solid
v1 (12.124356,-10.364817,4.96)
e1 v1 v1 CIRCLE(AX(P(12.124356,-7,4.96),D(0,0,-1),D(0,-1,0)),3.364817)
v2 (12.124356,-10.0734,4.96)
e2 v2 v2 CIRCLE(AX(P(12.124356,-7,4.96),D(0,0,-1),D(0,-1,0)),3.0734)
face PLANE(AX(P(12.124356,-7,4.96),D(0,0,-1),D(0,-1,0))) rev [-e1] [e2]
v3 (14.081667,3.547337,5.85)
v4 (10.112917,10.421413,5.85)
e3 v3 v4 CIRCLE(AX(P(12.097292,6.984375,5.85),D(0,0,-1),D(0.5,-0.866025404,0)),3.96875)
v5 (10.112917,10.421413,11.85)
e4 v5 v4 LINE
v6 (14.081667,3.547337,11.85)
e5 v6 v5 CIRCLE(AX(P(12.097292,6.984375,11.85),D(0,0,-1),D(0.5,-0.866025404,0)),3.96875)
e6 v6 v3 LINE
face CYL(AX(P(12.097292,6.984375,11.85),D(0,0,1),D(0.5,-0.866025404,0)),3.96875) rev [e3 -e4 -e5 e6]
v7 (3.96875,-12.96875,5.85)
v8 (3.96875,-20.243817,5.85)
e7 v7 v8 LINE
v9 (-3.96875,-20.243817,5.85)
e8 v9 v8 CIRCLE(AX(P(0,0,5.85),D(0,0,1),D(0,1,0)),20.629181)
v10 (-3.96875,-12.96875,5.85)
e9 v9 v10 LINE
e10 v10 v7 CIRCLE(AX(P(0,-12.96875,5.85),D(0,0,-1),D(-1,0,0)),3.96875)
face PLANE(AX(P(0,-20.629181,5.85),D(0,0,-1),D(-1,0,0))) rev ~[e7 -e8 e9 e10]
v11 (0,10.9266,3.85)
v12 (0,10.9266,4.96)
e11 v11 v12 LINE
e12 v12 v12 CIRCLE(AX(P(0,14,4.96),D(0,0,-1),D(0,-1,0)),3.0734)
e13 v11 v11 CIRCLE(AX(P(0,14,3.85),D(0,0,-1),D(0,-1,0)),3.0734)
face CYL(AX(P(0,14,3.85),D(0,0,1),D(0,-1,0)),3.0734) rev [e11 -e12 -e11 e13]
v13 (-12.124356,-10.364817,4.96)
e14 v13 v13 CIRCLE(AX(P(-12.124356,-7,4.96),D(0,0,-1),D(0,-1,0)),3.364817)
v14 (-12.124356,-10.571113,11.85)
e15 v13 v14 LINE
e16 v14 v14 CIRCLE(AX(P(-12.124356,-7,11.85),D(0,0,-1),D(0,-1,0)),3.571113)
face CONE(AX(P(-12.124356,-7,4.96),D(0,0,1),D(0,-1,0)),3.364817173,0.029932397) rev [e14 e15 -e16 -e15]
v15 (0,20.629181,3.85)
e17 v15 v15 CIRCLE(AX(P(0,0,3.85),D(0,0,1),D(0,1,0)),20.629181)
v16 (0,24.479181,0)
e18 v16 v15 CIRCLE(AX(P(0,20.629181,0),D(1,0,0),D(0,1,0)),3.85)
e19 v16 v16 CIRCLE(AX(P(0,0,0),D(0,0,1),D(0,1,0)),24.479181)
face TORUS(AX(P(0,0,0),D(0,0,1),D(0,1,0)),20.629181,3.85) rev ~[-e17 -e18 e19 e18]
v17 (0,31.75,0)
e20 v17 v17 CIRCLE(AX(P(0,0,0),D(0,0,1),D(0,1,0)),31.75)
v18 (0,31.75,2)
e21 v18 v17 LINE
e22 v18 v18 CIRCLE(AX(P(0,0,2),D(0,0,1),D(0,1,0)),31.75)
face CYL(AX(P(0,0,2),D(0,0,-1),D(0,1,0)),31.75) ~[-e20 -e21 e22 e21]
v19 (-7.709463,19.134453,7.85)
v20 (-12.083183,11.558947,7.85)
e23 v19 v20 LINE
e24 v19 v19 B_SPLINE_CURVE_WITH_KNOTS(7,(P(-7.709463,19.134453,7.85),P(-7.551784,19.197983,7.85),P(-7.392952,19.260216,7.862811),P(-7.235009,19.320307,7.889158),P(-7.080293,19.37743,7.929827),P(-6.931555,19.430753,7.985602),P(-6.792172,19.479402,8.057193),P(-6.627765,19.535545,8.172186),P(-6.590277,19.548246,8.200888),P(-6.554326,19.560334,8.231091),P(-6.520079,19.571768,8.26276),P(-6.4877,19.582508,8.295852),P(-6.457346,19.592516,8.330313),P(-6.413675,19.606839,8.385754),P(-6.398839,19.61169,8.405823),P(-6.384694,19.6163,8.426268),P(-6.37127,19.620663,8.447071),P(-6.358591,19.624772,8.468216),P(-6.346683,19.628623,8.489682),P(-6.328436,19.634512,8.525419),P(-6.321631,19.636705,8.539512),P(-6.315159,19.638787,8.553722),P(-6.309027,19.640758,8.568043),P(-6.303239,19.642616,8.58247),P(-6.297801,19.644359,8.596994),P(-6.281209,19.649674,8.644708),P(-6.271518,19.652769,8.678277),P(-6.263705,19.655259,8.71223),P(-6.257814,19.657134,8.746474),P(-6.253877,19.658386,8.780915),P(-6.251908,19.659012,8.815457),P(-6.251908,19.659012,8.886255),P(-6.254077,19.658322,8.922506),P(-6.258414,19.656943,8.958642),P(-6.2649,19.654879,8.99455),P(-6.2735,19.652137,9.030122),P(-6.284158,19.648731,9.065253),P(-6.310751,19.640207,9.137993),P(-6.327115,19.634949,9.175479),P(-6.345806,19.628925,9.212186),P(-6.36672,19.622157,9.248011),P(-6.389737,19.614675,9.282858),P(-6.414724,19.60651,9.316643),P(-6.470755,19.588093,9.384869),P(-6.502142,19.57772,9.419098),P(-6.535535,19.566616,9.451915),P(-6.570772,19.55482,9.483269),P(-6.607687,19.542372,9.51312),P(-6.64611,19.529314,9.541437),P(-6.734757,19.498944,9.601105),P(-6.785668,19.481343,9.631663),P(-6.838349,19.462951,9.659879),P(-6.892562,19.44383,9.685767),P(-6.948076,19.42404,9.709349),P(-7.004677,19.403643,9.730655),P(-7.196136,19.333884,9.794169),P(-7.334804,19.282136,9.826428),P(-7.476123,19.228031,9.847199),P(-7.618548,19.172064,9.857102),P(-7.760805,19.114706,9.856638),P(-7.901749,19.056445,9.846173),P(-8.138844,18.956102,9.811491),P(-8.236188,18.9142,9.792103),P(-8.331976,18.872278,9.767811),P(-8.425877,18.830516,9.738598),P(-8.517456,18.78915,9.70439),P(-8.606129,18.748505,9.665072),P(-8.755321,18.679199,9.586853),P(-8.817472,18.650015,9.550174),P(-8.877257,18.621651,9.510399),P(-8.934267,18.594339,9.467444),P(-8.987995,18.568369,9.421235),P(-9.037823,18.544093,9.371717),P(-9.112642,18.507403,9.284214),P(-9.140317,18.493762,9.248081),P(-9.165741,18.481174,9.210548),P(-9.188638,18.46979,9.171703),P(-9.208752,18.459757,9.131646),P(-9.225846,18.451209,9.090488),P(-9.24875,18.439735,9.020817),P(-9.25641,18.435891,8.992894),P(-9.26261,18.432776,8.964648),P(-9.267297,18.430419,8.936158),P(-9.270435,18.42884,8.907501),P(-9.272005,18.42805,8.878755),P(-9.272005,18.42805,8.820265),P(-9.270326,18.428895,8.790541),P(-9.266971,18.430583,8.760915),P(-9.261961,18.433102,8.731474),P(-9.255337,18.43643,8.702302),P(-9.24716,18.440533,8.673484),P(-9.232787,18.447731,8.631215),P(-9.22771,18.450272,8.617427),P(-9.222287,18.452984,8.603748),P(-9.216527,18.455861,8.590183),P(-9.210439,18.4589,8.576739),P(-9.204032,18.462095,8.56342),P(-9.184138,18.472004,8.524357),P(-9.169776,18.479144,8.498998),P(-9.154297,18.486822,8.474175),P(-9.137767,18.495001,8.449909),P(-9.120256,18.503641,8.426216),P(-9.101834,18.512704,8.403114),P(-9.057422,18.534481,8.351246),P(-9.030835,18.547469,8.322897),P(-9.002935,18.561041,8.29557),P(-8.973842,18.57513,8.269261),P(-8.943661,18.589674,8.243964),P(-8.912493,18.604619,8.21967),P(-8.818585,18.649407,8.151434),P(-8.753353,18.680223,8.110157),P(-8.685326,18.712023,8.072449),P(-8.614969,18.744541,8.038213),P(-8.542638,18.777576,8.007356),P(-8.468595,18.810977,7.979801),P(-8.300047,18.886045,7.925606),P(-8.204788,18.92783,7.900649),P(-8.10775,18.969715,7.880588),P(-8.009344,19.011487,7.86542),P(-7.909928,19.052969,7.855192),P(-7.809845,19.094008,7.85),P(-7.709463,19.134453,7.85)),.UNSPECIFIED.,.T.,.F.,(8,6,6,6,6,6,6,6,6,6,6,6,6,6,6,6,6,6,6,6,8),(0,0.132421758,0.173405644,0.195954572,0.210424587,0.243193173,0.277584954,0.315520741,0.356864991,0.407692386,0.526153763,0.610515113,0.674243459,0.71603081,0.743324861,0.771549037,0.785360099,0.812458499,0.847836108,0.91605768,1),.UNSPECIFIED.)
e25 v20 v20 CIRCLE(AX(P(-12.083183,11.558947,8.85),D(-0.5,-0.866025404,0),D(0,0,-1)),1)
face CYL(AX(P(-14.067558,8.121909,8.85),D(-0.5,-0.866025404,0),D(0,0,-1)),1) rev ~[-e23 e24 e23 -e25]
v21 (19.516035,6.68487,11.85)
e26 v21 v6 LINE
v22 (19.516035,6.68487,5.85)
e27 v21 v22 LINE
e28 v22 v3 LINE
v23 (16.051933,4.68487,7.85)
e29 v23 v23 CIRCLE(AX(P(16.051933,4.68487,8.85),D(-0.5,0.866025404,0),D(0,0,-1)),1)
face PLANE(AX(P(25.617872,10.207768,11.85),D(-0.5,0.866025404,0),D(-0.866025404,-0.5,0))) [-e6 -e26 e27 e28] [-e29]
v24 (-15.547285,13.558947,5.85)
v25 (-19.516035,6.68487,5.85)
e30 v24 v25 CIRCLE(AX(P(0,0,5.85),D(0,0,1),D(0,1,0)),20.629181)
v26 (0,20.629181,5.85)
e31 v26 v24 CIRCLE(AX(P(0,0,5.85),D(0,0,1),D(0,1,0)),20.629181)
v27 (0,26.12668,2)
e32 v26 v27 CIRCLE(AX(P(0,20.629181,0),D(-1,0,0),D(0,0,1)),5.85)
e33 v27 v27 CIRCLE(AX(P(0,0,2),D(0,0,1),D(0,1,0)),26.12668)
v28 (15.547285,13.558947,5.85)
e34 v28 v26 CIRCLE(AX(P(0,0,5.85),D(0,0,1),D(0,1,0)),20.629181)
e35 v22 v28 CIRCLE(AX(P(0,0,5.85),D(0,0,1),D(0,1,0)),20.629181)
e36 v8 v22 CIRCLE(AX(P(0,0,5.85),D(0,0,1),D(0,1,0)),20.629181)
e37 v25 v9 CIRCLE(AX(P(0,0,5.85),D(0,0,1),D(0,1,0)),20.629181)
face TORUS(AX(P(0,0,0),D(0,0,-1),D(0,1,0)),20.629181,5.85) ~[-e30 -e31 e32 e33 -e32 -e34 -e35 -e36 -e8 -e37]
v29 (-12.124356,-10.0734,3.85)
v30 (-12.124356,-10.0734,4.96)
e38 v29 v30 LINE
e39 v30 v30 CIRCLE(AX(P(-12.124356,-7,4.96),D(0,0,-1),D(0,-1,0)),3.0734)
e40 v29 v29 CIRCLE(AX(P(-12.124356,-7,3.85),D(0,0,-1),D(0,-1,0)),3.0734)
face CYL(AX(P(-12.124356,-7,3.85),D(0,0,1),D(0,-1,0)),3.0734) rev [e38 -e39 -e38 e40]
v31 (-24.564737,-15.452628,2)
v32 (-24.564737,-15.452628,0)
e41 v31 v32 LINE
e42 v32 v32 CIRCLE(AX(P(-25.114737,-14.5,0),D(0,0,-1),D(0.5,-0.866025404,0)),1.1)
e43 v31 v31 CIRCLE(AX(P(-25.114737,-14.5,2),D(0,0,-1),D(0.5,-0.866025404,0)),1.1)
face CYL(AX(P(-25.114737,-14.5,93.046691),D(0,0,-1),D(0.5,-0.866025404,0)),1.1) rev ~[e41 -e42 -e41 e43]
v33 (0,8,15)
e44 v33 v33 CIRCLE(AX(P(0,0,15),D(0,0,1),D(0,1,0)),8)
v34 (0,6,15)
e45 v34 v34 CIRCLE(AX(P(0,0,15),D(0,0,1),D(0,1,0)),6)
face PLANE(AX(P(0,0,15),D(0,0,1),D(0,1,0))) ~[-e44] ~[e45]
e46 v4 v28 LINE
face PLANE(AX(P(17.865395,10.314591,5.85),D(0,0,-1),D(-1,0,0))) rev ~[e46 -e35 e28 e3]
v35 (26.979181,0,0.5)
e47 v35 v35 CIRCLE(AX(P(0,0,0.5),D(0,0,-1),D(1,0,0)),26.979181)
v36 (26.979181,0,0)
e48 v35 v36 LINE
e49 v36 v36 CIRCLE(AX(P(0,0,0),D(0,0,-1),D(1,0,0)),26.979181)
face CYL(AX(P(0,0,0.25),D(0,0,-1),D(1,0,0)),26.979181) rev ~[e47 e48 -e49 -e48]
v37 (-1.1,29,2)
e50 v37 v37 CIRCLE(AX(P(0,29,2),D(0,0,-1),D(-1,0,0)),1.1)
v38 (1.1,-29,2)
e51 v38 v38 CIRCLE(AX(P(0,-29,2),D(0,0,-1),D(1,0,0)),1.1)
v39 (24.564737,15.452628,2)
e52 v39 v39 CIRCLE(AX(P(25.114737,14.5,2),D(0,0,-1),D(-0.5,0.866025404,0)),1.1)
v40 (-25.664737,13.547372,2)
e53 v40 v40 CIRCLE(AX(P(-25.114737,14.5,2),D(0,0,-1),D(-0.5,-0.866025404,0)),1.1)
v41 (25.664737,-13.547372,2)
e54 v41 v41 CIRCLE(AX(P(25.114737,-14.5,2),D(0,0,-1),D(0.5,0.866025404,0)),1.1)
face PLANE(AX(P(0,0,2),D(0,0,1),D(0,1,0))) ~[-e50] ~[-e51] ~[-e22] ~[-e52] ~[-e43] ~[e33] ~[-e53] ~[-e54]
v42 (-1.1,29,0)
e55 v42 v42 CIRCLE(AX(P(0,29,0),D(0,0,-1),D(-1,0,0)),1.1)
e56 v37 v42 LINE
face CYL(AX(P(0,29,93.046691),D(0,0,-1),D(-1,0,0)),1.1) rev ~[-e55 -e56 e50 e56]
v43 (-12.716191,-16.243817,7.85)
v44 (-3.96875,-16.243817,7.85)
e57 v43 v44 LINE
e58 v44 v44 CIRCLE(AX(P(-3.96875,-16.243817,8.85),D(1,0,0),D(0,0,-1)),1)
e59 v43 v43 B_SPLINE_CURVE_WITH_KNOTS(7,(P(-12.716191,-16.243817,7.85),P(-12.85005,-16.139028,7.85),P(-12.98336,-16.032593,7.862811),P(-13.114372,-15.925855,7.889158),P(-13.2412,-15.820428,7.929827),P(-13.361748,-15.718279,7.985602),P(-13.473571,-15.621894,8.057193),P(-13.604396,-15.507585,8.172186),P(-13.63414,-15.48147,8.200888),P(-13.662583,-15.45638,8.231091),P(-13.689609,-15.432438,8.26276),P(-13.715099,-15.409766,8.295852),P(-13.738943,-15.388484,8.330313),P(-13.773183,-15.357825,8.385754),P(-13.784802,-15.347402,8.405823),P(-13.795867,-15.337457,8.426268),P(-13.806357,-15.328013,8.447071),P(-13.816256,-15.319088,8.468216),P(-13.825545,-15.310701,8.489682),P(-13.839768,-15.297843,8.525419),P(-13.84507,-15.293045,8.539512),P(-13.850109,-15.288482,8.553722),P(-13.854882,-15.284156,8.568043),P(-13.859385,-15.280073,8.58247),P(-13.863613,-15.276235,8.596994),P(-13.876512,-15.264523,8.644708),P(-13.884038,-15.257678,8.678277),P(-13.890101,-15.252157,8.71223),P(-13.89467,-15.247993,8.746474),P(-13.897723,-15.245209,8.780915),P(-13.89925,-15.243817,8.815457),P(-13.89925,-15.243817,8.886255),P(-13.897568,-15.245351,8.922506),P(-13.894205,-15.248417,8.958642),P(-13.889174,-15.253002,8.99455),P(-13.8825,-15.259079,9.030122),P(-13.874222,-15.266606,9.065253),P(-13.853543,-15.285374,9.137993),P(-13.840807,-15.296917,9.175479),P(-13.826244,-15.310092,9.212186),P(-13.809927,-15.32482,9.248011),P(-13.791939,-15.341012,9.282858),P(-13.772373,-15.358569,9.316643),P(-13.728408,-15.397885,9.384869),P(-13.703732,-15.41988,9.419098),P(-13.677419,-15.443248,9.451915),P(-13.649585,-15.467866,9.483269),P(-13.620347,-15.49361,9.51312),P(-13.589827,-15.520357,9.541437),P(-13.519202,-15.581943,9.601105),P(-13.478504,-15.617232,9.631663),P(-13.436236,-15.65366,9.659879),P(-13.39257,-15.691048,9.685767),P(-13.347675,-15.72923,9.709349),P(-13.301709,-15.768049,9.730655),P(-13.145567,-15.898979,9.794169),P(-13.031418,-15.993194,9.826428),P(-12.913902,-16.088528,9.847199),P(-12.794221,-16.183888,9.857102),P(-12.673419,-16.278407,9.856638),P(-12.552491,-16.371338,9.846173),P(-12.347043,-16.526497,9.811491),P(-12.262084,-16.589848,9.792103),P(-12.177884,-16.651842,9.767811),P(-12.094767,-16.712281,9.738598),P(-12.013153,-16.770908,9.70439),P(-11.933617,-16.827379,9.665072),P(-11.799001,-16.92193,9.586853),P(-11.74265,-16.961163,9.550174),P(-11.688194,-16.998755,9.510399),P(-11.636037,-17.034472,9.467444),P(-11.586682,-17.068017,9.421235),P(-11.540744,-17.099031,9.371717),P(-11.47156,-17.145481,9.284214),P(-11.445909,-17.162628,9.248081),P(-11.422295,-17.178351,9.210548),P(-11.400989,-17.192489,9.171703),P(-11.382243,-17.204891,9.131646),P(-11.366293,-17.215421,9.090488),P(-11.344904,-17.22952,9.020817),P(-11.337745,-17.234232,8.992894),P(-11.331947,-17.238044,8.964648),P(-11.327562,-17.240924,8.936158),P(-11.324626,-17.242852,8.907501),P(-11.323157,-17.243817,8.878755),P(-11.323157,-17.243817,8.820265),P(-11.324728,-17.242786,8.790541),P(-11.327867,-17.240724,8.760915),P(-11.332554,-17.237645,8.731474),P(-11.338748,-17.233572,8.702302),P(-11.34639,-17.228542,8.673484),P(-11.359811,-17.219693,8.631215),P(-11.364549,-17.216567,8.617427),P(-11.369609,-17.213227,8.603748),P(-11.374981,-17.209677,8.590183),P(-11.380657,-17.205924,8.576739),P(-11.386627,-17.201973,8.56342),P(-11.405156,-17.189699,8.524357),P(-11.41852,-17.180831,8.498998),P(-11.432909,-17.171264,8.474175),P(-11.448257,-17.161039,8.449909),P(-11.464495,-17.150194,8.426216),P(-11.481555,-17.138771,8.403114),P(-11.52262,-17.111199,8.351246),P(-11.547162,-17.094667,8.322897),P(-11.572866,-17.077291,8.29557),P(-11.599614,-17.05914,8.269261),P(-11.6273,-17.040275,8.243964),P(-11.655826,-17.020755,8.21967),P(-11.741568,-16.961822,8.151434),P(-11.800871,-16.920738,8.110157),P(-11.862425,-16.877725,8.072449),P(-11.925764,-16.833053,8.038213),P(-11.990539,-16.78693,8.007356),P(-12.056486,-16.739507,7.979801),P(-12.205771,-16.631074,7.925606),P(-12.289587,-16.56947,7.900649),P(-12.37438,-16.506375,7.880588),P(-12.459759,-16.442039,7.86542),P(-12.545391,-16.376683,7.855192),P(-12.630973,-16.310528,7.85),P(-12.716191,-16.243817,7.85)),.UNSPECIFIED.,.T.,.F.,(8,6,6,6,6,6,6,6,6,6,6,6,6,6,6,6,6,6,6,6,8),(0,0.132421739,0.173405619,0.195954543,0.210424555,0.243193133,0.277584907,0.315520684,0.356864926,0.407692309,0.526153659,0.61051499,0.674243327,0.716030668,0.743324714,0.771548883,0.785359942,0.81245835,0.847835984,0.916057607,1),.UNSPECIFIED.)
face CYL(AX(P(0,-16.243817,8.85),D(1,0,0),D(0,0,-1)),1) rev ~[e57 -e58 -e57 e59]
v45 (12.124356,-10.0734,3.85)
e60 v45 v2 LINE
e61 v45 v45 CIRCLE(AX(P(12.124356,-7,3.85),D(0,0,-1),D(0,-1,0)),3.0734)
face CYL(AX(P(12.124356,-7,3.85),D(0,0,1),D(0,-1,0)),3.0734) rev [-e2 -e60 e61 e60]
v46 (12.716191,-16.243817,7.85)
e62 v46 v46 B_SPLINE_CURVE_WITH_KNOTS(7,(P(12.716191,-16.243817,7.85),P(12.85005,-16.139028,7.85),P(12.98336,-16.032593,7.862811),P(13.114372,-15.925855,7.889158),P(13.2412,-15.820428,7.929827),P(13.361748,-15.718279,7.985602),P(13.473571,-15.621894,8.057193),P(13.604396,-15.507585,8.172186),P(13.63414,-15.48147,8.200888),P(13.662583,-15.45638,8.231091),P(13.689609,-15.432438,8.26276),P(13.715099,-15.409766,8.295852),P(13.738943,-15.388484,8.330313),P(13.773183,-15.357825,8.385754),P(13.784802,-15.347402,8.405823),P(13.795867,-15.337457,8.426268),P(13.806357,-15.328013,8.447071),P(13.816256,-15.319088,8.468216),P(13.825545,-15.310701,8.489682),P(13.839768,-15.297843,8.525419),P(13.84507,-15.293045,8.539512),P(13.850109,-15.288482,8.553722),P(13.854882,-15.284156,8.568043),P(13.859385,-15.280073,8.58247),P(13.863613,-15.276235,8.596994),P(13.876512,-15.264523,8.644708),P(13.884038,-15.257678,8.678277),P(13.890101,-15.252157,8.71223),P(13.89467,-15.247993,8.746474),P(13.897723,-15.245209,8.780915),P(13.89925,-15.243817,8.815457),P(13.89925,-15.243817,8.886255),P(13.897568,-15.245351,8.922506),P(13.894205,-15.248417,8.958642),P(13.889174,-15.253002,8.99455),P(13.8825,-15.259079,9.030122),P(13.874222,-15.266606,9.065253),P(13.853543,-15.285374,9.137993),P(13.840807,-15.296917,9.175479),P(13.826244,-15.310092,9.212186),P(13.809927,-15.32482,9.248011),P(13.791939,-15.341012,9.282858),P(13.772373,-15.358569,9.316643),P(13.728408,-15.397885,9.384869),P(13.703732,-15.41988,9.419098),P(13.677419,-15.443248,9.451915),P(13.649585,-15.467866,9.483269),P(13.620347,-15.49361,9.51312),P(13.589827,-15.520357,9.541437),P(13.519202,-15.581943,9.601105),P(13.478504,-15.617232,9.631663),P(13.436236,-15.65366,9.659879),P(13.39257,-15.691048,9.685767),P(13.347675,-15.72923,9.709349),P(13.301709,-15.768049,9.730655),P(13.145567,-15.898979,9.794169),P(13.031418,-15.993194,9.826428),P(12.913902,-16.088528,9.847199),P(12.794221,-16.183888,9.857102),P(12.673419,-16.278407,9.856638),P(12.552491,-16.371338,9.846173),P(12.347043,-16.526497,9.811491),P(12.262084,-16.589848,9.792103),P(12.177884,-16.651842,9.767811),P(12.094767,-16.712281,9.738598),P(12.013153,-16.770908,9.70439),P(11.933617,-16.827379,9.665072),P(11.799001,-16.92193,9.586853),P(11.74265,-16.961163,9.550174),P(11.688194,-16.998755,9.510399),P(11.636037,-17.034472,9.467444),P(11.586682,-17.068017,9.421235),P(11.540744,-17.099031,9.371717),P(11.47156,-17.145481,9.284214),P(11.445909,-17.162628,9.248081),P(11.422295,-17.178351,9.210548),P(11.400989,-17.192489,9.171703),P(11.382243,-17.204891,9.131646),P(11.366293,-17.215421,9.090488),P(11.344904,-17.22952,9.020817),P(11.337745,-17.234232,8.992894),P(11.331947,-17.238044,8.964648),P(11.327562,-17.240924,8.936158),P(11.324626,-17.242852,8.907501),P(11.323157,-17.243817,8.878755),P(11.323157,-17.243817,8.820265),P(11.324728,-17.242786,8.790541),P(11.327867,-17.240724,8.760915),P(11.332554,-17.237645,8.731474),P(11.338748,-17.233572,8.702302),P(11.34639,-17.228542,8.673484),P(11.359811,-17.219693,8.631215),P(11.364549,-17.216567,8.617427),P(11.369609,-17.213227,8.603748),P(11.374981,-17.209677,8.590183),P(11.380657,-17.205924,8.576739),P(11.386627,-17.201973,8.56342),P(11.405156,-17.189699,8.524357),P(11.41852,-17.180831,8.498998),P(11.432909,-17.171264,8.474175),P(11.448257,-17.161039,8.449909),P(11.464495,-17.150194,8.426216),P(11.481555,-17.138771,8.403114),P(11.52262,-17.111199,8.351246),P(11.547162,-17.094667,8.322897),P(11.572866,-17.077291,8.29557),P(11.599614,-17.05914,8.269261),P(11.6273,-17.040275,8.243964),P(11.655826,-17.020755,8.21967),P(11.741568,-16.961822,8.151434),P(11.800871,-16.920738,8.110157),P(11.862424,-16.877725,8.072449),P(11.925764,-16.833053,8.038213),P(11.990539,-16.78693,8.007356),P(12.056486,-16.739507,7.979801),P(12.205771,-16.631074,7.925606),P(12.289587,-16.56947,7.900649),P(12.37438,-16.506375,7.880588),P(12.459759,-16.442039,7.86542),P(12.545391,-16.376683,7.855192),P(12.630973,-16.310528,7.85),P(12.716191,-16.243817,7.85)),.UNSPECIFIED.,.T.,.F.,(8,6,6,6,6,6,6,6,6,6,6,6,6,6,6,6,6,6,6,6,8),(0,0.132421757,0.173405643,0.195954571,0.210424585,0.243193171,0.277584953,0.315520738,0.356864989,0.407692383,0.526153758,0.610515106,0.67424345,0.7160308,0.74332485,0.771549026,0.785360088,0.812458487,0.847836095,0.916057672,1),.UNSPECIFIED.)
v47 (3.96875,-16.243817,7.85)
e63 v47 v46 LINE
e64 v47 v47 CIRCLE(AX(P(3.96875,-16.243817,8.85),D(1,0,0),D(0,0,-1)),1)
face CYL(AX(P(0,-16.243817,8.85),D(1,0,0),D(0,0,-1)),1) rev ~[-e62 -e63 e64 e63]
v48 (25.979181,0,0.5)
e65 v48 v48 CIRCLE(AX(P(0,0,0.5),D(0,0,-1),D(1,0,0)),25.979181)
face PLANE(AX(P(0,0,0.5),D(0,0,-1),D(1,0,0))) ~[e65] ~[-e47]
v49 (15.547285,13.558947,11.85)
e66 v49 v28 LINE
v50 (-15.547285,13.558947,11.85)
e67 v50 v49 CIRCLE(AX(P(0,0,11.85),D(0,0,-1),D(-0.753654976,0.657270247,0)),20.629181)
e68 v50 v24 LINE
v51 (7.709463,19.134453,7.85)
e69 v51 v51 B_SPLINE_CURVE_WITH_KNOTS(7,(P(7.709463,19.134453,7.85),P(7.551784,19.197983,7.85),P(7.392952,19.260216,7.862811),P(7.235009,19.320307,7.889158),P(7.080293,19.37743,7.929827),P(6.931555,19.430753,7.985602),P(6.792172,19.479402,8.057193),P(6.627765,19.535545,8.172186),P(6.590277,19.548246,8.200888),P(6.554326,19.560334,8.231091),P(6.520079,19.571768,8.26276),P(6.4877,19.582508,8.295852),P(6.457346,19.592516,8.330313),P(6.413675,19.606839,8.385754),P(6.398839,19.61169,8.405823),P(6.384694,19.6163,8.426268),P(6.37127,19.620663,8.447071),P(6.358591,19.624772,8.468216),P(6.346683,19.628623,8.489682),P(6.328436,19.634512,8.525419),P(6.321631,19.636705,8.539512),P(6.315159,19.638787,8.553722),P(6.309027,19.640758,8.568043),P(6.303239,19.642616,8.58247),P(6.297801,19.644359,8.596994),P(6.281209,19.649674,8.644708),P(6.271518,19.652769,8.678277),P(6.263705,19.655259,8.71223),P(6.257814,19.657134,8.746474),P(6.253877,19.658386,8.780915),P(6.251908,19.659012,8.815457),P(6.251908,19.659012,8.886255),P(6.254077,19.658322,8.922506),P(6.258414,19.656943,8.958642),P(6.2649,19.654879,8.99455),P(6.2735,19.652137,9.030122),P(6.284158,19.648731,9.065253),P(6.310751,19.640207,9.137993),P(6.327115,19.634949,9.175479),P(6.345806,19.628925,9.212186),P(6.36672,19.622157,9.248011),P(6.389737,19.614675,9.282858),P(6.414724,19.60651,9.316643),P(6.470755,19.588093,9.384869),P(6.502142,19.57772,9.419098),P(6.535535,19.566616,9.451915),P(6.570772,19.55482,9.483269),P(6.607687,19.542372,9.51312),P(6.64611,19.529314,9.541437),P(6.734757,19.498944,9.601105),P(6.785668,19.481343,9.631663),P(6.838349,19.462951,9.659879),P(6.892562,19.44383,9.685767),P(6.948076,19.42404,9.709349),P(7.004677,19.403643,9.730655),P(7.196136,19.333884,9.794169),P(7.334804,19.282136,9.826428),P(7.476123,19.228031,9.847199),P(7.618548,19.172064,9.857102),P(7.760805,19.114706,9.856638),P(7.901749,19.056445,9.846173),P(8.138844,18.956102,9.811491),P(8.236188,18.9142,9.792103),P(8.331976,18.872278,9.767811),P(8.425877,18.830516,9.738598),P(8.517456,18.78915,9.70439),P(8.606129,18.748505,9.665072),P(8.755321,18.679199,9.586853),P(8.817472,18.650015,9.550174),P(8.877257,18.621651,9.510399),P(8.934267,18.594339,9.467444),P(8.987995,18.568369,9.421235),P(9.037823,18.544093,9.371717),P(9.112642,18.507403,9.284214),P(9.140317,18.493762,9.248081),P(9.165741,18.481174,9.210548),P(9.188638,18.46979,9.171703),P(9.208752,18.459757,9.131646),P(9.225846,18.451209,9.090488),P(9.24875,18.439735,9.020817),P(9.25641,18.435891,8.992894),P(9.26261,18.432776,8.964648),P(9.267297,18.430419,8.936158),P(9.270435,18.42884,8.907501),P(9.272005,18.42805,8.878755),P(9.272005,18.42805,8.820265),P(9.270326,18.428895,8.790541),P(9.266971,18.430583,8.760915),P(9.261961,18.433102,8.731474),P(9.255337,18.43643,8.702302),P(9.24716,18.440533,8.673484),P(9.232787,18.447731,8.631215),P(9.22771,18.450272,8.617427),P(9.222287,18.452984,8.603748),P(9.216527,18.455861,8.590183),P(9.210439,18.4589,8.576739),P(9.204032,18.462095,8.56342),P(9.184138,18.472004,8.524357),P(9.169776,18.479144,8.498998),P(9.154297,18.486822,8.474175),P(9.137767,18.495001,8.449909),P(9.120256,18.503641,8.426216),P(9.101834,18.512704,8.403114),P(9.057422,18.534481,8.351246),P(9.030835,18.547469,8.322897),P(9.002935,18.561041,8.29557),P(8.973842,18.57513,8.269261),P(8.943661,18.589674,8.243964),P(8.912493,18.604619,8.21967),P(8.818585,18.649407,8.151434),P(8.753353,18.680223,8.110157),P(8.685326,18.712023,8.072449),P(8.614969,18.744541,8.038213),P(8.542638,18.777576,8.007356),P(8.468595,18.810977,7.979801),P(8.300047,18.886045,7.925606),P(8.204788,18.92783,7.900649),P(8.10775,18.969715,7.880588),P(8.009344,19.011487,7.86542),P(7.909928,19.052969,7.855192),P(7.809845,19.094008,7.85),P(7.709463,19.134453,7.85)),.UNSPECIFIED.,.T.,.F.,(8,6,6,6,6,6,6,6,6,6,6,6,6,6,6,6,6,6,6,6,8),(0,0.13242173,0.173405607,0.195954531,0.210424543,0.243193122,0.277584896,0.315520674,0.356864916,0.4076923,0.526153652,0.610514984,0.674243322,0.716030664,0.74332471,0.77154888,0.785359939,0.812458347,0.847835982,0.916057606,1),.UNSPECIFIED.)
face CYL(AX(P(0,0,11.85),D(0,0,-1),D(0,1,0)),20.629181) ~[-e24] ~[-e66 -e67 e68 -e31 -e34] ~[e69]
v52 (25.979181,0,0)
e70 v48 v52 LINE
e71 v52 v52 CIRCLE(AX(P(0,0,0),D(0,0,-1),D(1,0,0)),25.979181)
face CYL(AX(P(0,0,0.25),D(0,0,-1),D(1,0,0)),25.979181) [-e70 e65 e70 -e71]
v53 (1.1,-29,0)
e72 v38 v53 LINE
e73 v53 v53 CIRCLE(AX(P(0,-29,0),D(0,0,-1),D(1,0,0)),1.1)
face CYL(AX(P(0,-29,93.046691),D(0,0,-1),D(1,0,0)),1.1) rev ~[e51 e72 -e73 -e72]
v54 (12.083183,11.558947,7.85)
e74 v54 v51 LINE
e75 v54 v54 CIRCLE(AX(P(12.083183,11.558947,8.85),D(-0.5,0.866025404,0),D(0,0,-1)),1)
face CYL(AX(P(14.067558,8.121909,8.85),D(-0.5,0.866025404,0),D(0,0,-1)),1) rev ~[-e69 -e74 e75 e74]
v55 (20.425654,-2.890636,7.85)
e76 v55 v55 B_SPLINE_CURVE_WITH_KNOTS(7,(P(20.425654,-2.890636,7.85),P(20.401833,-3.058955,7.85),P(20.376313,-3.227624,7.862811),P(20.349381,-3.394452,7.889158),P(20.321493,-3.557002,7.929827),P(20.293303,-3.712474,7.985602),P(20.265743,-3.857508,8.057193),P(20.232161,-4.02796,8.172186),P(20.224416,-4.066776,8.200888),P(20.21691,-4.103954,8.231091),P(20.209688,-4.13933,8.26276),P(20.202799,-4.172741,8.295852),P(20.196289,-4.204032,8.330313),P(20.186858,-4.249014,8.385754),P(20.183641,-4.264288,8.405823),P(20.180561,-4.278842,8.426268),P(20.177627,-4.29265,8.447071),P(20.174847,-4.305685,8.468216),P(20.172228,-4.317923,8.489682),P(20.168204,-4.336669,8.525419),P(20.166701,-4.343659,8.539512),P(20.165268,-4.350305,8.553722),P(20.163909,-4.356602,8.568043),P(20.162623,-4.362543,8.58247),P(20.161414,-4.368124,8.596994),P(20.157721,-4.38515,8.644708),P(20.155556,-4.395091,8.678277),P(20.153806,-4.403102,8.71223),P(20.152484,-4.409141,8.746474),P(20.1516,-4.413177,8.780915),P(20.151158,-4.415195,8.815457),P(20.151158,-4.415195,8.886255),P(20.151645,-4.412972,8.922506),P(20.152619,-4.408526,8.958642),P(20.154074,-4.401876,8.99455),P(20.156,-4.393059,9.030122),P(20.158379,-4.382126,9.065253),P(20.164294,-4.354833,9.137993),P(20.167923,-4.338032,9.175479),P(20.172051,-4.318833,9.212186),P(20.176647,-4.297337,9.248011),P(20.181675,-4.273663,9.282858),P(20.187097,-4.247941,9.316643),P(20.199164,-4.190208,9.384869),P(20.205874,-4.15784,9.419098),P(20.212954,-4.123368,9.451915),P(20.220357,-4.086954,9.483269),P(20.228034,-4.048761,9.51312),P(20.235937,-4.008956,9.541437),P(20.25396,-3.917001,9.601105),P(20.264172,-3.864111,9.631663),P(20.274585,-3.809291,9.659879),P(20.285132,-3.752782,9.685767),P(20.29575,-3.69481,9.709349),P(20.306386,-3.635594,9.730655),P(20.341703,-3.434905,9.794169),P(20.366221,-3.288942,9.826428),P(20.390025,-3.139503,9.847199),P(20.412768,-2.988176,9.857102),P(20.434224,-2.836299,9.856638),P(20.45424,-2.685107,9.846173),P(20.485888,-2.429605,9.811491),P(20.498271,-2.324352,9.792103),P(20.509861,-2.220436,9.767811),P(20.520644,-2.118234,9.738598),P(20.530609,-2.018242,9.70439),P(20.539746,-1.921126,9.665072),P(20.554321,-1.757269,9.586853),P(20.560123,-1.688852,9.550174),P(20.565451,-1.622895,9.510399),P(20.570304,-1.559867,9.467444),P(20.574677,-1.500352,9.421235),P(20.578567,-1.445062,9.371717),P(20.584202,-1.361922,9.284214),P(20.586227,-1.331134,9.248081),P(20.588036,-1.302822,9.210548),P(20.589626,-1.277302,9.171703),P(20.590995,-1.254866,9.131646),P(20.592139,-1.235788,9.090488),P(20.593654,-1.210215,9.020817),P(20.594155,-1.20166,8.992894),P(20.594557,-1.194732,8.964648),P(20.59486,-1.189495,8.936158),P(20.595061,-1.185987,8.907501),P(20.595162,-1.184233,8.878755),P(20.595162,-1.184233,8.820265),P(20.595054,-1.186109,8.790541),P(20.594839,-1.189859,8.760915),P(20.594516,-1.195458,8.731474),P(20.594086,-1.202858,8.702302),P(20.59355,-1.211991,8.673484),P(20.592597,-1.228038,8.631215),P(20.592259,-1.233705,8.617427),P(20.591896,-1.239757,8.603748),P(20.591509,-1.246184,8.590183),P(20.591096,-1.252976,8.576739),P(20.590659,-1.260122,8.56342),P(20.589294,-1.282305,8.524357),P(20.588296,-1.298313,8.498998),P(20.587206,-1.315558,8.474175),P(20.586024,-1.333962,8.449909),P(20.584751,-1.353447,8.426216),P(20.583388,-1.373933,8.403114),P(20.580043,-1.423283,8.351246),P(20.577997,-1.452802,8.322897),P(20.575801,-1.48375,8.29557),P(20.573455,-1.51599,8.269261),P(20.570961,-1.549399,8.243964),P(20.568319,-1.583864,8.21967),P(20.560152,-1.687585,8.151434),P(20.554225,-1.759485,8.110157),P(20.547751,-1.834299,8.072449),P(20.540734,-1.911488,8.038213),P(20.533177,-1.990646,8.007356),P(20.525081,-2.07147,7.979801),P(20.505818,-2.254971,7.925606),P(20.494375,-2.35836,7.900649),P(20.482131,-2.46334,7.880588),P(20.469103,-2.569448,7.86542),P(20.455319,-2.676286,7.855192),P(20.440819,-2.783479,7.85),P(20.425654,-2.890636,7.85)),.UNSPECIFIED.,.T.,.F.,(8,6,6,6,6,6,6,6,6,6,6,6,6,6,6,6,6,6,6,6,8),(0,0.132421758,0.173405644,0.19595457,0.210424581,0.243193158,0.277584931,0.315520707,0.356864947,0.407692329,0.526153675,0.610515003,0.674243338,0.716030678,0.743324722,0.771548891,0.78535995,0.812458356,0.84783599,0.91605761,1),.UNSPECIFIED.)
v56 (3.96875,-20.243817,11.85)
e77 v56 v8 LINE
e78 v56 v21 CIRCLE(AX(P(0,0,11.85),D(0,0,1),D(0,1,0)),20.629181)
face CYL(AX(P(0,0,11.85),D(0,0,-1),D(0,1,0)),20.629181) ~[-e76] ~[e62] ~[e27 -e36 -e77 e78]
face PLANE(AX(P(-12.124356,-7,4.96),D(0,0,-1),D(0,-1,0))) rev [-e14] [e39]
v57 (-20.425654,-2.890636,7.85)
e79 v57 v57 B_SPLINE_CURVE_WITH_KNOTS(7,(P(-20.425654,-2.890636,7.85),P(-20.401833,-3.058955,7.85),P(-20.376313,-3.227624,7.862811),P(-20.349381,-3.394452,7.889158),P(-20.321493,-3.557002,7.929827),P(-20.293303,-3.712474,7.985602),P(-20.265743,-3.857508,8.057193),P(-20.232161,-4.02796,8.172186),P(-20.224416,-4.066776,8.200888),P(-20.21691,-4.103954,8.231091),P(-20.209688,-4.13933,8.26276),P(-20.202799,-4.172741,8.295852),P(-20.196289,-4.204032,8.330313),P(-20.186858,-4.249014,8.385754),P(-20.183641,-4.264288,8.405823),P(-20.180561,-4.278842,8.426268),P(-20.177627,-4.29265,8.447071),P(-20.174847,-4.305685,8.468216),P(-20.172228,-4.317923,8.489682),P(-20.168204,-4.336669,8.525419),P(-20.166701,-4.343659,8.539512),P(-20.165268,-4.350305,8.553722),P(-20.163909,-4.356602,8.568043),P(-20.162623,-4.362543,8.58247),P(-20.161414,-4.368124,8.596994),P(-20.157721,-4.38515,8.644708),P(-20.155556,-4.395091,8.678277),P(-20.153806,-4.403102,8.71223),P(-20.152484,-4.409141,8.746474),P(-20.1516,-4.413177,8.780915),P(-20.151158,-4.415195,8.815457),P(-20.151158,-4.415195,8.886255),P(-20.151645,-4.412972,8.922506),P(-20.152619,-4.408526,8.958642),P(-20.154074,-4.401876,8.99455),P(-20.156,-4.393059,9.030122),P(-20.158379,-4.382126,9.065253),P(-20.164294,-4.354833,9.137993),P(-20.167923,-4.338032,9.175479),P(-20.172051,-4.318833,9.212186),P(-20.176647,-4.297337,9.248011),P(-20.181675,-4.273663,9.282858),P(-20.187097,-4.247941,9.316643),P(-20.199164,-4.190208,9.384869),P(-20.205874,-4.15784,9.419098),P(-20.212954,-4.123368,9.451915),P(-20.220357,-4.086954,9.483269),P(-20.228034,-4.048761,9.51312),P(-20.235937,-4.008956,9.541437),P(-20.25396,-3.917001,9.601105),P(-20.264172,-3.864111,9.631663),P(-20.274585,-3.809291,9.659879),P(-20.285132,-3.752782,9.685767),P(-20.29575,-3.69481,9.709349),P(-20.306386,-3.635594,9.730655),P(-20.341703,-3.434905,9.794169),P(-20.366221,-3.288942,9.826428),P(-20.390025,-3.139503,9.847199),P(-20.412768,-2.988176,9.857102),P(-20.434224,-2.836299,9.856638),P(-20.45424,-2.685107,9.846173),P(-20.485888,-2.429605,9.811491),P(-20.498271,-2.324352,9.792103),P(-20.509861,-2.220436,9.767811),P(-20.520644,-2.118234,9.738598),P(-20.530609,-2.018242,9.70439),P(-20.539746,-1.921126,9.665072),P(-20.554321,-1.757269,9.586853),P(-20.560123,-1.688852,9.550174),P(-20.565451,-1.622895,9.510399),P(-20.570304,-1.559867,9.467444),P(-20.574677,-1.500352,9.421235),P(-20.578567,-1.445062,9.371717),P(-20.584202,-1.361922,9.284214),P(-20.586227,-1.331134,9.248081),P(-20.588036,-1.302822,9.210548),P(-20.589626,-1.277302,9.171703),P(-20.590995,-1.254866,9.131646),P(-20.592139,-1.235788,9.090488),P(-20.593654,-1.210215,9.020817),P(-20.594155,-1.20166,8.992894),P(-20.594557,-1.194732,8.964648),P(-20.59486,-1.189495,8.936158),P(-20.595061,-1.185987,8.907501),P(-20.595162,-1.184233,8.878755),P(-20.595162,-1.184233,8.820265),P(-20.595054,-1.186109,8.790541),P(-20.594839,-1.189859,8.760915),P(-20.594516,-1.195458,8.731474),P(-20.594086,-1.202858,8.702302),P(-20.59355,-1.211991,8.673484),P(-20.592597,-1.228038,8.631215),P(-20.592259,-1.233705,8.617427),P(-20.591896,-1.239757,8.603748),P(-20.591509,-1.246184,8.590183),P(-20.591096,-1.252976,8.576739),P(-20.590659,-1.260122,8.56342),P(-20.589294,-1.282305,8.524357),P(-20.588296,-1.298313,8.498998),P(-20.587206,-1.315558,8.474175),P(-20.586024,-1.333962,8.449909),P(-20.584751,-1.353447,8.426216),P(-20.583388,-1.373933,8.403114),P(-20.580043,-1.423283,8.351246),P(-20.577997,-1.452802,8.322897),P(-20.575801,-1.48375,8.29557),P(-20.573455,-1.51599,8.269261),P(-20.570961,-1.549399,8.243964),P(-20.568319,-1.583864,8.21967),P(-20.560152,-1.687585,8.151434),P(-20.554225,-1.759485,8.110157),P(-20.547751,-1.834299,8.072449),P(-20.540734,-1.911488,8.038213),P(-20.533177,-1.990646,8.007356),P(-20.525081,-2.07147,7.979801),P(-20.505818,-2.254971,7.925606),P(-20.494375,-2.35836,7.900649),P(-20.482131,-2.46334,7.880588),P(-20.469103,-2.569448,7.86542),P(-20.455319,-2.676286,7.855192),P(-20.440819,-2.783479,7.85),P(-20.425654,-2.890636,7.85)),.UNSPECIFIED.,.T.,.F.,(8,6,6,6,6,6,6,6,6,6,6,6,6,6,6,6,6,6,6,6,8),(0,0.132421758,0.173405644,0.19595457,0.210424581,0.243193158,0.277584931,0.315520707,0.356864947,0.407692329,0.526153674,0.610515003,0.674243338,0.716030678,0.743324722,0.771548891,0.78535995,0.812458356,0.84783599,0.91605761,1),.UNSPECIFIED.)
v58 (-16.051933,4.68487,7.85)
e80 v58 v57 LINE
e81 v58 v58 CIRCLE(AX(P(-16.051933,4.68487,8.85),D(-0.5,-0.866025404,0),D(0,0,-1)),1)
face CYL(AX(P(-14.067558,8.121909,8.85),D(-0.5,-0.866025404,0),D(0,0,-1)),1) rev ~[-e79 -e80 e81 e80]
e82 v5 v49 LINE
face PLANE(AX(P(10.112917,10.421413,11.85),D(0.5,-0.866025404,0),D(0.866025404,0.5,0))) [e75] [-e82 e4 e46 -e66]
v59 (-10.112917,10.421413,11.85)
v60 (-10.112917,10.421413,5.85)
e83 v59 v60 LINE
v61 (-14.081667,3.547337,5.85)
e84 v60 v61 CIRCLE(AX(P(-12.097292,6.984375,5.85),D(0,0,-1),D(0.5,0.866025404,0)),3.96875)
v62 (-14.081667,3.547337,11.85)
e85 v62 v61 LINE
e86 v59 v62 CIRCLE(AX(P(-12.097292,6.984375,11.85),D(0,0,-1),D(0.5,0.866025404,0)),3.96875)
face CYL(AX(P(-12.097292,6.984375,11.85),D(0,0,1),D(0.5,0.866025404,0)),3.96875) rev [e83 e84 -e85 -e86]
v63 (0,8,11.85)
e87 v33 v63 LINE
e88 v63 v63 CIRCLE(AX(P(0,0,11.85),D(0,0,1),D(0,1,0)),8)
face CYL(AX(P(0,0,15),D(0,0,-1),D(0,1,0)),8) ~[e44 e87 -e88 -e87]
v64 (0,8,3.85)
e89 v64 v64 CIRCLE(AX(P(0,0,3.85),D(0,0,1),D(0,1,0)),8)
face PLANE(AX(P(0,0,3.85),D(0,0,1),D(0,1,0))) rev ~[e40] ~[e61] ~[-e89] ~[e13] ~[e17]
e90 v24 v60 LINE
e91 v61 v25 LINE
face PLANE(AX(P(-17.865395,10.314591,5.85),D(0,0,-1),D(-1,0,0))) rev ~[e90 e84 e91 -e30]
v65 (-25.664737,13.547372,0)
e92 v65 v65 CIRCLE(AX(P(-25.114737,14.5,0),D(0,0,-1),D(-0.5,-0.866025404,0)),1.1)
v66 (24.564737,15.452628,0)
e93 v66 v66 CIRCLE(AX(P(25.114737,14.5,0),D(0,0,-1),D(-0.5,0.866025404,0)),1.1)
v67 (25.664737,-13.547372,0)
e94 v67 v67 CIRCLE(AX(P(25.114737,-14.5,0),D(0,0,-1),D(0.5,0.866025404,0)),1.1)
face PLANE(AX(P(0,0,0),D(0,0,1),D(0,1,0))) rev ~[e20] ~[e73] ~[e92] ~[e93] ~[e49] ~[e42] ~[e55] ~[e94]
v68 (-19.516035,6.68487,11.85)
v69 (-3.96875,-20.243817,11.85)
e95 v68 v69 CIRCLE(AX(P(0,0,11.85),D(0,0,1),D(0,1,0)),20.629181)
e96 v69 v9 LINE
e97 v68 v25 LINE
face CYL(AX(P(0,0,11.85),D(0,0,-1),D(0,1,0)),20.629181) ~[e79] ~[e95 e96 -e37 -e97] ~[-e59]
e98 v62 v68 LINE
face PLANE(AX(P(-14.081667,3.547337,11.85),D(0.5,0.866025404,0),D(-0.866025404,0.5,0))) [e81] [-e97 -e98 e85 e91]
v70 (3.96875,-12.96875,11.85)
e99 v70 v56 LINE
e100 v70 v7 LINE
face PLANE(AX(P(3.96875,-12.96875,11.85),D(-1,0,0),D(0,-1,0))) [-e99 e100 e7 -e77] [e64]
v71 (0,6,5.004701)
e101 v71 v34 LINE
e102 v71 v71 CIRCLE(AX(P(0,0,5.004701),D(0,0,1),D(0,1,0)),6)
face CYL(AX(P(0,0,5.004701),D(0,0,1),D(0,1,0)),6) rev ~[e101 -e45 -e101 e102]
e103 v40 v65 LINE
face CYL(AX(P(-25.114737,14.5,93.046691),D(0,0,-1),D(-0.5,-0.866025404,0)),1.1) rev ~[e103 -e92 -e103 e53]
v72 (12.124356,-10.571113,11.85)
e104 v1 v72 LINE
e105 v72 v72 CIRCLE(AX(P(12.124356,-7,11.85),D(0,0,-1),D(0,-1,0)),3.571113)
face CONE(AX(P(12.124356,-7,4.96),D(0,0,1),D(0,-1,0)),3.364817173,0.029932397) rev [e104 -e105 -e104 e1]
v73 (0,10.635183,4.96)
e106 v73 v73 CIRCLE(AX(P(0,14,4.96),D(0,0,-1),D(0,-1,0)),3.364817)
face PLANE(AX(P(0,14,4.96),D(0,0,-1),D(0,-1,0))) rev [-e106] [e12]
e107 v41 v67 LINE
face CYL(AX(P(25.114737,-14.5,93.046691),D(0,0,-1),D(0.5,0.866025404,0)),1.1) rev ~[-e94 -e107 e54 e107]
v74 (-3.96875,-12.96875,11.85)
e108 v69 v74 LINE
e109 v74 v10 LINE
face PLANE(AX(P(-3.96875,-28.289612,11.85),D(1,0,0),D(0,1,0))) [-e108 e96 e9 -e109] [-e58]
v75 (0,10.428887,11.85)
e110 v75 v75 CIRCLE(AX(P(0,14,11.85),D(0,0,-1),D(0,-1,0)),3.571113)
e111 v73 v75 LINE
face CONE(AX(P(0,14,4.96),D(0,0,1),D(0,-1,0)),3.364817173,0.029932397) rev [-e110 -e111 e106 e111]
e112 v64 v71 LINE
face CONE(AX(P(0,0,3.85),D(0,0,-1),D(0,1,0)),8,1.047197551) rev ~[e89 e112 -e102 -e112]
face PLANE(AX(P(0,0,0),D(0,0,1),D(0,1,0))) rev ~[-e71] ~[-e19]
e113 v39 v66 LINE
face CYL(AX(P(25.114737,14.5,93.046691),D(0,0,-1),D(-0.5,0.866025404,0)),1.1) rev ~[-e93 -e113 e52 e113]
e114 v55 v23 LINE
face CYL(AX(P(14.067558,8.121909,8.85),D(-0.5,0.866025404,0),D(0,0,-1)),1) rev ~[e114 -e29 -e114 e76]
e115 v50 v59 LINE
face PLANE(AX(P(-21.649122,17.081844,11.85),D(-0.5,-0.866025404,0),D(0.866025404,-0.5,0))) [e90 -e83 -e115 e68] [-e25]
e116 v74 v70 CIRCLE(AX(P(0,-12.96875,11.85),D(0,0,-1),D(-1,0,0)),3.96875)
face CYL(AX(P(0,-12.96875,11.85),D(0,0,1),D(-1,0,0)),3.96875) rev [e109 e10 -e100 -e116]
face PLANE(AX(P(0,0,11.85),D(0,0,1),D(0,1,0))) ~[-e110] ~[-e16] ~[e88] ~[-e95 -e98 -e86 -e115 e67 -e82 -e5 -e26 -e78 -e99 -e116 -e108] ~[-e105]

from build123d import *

# Parameters (mm, degrees)
F_1_16_NPT_TAPPED_HOLE1_AT_2_COUNT = 2
F_1_16_NPT_TAPPED_HOLE1_AT_2_PITCH = 24.248711306
F_1_16_NPT_TAPPED_HOLE1_AT_3_COUNT = 2
F_1_16_NPT_TAPPED_HOLE1_AT_3_PITCH = 24.248711306
THRUST_MOUNT_DEPTH                 = 6
SKETCH6_R                          = 1
LOCKING_PIN_DEPTH                  = 48.340521755
CIRPATTERN1_COUNT                  = 3
SKETCH7_W                          = 0.5
SKETCH7_H                          = 1
F_2_2_2_2_DIAMETER_HOLE1_D         = 2.2
CIRPATTERN2_COUNT                  = 6


with BuildPart() as part:
    # Sketch1 → Main Base (revolve)
    with BuildSketch(Plane(origin=(0, 0, 0), x_dir=(0, 0, -1), z_dir=(1, 0, 0))):
        with BuildLine():
            Line((0, 31.75), (0, 24.479181))
            ThreePointArc((0, 24.479181), (-2.722361108, 23.351542108), (-3.85, 20.629181))
            Line((-3.85, 20.629181), (-3.85, 8))
            Line((-3.85, 8), (-5.004700538, 6))
            Line((-5.004700538, 6), (-15, 6))
            Line((-15, 6), (-15, 8))
            Line((-15, 8), (-11.85, 8))
            Line((-11.85, 8), (-11.85, 20.629181))
            Line((-11.85, 20.629181), (-5.85, 20.629181))
            ThreePointArc((-5.85, 20.629181), (-4.791789853, 23.984959598), (-2, 26.126680432))
            Line((-2, 26.126680432), (-2, 31.75))
            Line((-2, 31.75), (0, 31.75))
        make_face()
    revolve(axis=Axis((0, 0, -128.05411072), (0, 0, 1)))

    # Sketch4 → 1/16 NPT Tapped Hole1 (revolve, cut)
    with BuildSketch(Plane(origin=(0, 14, 11.85), x_dir=(0, -1, 0), z_dir=(1, 0, 0))):
        Polygon((0, 0), (0, 8), (3.0734, 8), (3.0734, 6.89), (3.364817173, 6.89), (3.571113, 0), align=None)
    f_1_16_npt_tapped_hole1 = revolve(axis=Axis((0, 14, 18.2), (0, 0, -1)), mode=Mode.SUBTRACT)

    # 1/16 NPT Tapped Hole1 at 2: 1/16 NPT Tapped Hole1 ×2
    with Locations(*[Vector(0.5000000000000264, -0.8660254037844235, 0) * (i * F_1_16_NPT_TAPPED_HOLE1_AT_2_PITCH) for i in range(1, F_1_16_NPT_TAPPED_HOLE1_AT_2_COUNT)]):
        add(f_1_16_npt_tapped_hole1, mode=Mode.SUBTRACT)

    # 1/16 NPT Tapped Hole1 at 3: 1/16 NPT Tapped Hole1 ×2
    with Locations(*[Vector(-0.4999999999999739, -0.8660254037844536, 0) * (i * F_1_16_NPT_TAPPED_HOLE1_AT_3_PITCH) for i in range(1, F_1_16_NPT_TAPPED_HOLE1_AT_3_COUNT)]):
        add(f_1_16_npt_tapped_hole1, mode=Mode.SUBTRACT)

    # Sketch5 → Thrust Mount (cut)
    with BuildSketch(Plane.XY.offset(11.85)):
        with BuildLine():
            Line((25.617872251, 10.207767679), (14.081667359, 3.547336679))
            ThreePointArc((14.081667359, 3.547336679), (8.660254038, 5), (10.112917359, 10.421413321))
            Line((10.112917359, 10.421413321), (21.649122251, 17.081844321))
            ThreePointArc((21.649122251, 17.081844321), (27.070535573, 15.629181), (25.617872251, 10.207767679))
        make_face()
        with BuildLine():
            Line((-3.96875, -28.289612), (-3.96875, -12.96875))
            ThreePointArc((-3.96875, -12.96875), (0, -9), (3.96875, -12.96875))
            Line((3.96875, -12.96875), (3.96875, -28.289612))
            ThreePointArc((3.96875, -28.289612), (0, -32.258362), (-3.96875, -28.289612))
        make_face()
        with BuildLine():
            Line((-21.649122251, 17.081844321), (-10.112917359, 10.421413321))
            ThreePointArc((-10.112917359, 10.421413321), (-8.660254038, 5), (-14.081667359, 3.547336679))
            Line((-14.081667359, 3.547336679), (-25.617872251, 10.207767679))
            ThreePointArc((-25.617872251, 10.207767679), (-27.070535573, 15.629181), (-21.649122251, 17.081844321))
        make_face()
    extrude(amount=-THRUST_MOUNT_DEPTH, mode=Mode.SUBTRACT)

    # Sketch6 → Locking Pin (cut, symmetric)
    with BuildSketch(Plane(origin=(0, 0, 0), x_dir=(0, 0, -1), z_dir=(1, 0, 0))):
        with Locations((-8.85, -16.243817134)):
            Circle(SKETCH6_R)
    locking_pin = extrude(amount=LOCKING_PIN_DEPTH, both=True, mode=Mode.SUBTRACT)

    # CirPattern1: Locking Pin ×3 about axis
    cirpattern1_axis = Axis((0, 0, 55), (0, 0, -1))
    for i in range(1, CIRPATTERN1_COUNT):
        add(locking_pin.rotate(cirpattern1_axis, i * 360 / CIRPATTERN1_COUNT), mode=Mode.SUBTRACT)

    # Sketch7 → Face O-ring (revolve, cut)
    with BuildSketch(Plane(origin=(0, 0, 0), x_dir=(0, 0, -1), z_dir=(1, 0, 0)), mode=Mode.PRIVATE) as face_o_ring_sk:
        with Locations((-0.25, 26.479181)):
            Rectangle(SKETCH7_W, SKETCH7_H)
    revolve(face_o_ring_sk.sketch.rotate(Axis((0, 0, 55), (0, 0, -1)), 90), axis=Axis((0, 0, 55), (0, 0, -1)), mode=Mode.SUBTRACT)

    # Ø2.2 (2.2) Diameter Hole1 (through all)
    with Locations(Plane.XY.offset(2)):
        with Locations((0, 29)):
            f_2_2_2_2_diameter_hole1 = Hole(F_2_2_2_2_DIAMETER_HOLE1_D / 2)

    # CirPattern2: Ø2.2 (2.2) Diameter Hole1 ×6 about axis
    cirpattern2_axis = Axis((0, 0, 0), (0, 0, 1))
    for i in range(1, CIRPATTERN2_COUNT):
        add(f_2_2_2_2_diameter_hole1.rotate(cirpattern2_axis, i * 360 / CIRPATTERN2_COUNT), mode=Mode.SUBTRACT)


solid = part.part
